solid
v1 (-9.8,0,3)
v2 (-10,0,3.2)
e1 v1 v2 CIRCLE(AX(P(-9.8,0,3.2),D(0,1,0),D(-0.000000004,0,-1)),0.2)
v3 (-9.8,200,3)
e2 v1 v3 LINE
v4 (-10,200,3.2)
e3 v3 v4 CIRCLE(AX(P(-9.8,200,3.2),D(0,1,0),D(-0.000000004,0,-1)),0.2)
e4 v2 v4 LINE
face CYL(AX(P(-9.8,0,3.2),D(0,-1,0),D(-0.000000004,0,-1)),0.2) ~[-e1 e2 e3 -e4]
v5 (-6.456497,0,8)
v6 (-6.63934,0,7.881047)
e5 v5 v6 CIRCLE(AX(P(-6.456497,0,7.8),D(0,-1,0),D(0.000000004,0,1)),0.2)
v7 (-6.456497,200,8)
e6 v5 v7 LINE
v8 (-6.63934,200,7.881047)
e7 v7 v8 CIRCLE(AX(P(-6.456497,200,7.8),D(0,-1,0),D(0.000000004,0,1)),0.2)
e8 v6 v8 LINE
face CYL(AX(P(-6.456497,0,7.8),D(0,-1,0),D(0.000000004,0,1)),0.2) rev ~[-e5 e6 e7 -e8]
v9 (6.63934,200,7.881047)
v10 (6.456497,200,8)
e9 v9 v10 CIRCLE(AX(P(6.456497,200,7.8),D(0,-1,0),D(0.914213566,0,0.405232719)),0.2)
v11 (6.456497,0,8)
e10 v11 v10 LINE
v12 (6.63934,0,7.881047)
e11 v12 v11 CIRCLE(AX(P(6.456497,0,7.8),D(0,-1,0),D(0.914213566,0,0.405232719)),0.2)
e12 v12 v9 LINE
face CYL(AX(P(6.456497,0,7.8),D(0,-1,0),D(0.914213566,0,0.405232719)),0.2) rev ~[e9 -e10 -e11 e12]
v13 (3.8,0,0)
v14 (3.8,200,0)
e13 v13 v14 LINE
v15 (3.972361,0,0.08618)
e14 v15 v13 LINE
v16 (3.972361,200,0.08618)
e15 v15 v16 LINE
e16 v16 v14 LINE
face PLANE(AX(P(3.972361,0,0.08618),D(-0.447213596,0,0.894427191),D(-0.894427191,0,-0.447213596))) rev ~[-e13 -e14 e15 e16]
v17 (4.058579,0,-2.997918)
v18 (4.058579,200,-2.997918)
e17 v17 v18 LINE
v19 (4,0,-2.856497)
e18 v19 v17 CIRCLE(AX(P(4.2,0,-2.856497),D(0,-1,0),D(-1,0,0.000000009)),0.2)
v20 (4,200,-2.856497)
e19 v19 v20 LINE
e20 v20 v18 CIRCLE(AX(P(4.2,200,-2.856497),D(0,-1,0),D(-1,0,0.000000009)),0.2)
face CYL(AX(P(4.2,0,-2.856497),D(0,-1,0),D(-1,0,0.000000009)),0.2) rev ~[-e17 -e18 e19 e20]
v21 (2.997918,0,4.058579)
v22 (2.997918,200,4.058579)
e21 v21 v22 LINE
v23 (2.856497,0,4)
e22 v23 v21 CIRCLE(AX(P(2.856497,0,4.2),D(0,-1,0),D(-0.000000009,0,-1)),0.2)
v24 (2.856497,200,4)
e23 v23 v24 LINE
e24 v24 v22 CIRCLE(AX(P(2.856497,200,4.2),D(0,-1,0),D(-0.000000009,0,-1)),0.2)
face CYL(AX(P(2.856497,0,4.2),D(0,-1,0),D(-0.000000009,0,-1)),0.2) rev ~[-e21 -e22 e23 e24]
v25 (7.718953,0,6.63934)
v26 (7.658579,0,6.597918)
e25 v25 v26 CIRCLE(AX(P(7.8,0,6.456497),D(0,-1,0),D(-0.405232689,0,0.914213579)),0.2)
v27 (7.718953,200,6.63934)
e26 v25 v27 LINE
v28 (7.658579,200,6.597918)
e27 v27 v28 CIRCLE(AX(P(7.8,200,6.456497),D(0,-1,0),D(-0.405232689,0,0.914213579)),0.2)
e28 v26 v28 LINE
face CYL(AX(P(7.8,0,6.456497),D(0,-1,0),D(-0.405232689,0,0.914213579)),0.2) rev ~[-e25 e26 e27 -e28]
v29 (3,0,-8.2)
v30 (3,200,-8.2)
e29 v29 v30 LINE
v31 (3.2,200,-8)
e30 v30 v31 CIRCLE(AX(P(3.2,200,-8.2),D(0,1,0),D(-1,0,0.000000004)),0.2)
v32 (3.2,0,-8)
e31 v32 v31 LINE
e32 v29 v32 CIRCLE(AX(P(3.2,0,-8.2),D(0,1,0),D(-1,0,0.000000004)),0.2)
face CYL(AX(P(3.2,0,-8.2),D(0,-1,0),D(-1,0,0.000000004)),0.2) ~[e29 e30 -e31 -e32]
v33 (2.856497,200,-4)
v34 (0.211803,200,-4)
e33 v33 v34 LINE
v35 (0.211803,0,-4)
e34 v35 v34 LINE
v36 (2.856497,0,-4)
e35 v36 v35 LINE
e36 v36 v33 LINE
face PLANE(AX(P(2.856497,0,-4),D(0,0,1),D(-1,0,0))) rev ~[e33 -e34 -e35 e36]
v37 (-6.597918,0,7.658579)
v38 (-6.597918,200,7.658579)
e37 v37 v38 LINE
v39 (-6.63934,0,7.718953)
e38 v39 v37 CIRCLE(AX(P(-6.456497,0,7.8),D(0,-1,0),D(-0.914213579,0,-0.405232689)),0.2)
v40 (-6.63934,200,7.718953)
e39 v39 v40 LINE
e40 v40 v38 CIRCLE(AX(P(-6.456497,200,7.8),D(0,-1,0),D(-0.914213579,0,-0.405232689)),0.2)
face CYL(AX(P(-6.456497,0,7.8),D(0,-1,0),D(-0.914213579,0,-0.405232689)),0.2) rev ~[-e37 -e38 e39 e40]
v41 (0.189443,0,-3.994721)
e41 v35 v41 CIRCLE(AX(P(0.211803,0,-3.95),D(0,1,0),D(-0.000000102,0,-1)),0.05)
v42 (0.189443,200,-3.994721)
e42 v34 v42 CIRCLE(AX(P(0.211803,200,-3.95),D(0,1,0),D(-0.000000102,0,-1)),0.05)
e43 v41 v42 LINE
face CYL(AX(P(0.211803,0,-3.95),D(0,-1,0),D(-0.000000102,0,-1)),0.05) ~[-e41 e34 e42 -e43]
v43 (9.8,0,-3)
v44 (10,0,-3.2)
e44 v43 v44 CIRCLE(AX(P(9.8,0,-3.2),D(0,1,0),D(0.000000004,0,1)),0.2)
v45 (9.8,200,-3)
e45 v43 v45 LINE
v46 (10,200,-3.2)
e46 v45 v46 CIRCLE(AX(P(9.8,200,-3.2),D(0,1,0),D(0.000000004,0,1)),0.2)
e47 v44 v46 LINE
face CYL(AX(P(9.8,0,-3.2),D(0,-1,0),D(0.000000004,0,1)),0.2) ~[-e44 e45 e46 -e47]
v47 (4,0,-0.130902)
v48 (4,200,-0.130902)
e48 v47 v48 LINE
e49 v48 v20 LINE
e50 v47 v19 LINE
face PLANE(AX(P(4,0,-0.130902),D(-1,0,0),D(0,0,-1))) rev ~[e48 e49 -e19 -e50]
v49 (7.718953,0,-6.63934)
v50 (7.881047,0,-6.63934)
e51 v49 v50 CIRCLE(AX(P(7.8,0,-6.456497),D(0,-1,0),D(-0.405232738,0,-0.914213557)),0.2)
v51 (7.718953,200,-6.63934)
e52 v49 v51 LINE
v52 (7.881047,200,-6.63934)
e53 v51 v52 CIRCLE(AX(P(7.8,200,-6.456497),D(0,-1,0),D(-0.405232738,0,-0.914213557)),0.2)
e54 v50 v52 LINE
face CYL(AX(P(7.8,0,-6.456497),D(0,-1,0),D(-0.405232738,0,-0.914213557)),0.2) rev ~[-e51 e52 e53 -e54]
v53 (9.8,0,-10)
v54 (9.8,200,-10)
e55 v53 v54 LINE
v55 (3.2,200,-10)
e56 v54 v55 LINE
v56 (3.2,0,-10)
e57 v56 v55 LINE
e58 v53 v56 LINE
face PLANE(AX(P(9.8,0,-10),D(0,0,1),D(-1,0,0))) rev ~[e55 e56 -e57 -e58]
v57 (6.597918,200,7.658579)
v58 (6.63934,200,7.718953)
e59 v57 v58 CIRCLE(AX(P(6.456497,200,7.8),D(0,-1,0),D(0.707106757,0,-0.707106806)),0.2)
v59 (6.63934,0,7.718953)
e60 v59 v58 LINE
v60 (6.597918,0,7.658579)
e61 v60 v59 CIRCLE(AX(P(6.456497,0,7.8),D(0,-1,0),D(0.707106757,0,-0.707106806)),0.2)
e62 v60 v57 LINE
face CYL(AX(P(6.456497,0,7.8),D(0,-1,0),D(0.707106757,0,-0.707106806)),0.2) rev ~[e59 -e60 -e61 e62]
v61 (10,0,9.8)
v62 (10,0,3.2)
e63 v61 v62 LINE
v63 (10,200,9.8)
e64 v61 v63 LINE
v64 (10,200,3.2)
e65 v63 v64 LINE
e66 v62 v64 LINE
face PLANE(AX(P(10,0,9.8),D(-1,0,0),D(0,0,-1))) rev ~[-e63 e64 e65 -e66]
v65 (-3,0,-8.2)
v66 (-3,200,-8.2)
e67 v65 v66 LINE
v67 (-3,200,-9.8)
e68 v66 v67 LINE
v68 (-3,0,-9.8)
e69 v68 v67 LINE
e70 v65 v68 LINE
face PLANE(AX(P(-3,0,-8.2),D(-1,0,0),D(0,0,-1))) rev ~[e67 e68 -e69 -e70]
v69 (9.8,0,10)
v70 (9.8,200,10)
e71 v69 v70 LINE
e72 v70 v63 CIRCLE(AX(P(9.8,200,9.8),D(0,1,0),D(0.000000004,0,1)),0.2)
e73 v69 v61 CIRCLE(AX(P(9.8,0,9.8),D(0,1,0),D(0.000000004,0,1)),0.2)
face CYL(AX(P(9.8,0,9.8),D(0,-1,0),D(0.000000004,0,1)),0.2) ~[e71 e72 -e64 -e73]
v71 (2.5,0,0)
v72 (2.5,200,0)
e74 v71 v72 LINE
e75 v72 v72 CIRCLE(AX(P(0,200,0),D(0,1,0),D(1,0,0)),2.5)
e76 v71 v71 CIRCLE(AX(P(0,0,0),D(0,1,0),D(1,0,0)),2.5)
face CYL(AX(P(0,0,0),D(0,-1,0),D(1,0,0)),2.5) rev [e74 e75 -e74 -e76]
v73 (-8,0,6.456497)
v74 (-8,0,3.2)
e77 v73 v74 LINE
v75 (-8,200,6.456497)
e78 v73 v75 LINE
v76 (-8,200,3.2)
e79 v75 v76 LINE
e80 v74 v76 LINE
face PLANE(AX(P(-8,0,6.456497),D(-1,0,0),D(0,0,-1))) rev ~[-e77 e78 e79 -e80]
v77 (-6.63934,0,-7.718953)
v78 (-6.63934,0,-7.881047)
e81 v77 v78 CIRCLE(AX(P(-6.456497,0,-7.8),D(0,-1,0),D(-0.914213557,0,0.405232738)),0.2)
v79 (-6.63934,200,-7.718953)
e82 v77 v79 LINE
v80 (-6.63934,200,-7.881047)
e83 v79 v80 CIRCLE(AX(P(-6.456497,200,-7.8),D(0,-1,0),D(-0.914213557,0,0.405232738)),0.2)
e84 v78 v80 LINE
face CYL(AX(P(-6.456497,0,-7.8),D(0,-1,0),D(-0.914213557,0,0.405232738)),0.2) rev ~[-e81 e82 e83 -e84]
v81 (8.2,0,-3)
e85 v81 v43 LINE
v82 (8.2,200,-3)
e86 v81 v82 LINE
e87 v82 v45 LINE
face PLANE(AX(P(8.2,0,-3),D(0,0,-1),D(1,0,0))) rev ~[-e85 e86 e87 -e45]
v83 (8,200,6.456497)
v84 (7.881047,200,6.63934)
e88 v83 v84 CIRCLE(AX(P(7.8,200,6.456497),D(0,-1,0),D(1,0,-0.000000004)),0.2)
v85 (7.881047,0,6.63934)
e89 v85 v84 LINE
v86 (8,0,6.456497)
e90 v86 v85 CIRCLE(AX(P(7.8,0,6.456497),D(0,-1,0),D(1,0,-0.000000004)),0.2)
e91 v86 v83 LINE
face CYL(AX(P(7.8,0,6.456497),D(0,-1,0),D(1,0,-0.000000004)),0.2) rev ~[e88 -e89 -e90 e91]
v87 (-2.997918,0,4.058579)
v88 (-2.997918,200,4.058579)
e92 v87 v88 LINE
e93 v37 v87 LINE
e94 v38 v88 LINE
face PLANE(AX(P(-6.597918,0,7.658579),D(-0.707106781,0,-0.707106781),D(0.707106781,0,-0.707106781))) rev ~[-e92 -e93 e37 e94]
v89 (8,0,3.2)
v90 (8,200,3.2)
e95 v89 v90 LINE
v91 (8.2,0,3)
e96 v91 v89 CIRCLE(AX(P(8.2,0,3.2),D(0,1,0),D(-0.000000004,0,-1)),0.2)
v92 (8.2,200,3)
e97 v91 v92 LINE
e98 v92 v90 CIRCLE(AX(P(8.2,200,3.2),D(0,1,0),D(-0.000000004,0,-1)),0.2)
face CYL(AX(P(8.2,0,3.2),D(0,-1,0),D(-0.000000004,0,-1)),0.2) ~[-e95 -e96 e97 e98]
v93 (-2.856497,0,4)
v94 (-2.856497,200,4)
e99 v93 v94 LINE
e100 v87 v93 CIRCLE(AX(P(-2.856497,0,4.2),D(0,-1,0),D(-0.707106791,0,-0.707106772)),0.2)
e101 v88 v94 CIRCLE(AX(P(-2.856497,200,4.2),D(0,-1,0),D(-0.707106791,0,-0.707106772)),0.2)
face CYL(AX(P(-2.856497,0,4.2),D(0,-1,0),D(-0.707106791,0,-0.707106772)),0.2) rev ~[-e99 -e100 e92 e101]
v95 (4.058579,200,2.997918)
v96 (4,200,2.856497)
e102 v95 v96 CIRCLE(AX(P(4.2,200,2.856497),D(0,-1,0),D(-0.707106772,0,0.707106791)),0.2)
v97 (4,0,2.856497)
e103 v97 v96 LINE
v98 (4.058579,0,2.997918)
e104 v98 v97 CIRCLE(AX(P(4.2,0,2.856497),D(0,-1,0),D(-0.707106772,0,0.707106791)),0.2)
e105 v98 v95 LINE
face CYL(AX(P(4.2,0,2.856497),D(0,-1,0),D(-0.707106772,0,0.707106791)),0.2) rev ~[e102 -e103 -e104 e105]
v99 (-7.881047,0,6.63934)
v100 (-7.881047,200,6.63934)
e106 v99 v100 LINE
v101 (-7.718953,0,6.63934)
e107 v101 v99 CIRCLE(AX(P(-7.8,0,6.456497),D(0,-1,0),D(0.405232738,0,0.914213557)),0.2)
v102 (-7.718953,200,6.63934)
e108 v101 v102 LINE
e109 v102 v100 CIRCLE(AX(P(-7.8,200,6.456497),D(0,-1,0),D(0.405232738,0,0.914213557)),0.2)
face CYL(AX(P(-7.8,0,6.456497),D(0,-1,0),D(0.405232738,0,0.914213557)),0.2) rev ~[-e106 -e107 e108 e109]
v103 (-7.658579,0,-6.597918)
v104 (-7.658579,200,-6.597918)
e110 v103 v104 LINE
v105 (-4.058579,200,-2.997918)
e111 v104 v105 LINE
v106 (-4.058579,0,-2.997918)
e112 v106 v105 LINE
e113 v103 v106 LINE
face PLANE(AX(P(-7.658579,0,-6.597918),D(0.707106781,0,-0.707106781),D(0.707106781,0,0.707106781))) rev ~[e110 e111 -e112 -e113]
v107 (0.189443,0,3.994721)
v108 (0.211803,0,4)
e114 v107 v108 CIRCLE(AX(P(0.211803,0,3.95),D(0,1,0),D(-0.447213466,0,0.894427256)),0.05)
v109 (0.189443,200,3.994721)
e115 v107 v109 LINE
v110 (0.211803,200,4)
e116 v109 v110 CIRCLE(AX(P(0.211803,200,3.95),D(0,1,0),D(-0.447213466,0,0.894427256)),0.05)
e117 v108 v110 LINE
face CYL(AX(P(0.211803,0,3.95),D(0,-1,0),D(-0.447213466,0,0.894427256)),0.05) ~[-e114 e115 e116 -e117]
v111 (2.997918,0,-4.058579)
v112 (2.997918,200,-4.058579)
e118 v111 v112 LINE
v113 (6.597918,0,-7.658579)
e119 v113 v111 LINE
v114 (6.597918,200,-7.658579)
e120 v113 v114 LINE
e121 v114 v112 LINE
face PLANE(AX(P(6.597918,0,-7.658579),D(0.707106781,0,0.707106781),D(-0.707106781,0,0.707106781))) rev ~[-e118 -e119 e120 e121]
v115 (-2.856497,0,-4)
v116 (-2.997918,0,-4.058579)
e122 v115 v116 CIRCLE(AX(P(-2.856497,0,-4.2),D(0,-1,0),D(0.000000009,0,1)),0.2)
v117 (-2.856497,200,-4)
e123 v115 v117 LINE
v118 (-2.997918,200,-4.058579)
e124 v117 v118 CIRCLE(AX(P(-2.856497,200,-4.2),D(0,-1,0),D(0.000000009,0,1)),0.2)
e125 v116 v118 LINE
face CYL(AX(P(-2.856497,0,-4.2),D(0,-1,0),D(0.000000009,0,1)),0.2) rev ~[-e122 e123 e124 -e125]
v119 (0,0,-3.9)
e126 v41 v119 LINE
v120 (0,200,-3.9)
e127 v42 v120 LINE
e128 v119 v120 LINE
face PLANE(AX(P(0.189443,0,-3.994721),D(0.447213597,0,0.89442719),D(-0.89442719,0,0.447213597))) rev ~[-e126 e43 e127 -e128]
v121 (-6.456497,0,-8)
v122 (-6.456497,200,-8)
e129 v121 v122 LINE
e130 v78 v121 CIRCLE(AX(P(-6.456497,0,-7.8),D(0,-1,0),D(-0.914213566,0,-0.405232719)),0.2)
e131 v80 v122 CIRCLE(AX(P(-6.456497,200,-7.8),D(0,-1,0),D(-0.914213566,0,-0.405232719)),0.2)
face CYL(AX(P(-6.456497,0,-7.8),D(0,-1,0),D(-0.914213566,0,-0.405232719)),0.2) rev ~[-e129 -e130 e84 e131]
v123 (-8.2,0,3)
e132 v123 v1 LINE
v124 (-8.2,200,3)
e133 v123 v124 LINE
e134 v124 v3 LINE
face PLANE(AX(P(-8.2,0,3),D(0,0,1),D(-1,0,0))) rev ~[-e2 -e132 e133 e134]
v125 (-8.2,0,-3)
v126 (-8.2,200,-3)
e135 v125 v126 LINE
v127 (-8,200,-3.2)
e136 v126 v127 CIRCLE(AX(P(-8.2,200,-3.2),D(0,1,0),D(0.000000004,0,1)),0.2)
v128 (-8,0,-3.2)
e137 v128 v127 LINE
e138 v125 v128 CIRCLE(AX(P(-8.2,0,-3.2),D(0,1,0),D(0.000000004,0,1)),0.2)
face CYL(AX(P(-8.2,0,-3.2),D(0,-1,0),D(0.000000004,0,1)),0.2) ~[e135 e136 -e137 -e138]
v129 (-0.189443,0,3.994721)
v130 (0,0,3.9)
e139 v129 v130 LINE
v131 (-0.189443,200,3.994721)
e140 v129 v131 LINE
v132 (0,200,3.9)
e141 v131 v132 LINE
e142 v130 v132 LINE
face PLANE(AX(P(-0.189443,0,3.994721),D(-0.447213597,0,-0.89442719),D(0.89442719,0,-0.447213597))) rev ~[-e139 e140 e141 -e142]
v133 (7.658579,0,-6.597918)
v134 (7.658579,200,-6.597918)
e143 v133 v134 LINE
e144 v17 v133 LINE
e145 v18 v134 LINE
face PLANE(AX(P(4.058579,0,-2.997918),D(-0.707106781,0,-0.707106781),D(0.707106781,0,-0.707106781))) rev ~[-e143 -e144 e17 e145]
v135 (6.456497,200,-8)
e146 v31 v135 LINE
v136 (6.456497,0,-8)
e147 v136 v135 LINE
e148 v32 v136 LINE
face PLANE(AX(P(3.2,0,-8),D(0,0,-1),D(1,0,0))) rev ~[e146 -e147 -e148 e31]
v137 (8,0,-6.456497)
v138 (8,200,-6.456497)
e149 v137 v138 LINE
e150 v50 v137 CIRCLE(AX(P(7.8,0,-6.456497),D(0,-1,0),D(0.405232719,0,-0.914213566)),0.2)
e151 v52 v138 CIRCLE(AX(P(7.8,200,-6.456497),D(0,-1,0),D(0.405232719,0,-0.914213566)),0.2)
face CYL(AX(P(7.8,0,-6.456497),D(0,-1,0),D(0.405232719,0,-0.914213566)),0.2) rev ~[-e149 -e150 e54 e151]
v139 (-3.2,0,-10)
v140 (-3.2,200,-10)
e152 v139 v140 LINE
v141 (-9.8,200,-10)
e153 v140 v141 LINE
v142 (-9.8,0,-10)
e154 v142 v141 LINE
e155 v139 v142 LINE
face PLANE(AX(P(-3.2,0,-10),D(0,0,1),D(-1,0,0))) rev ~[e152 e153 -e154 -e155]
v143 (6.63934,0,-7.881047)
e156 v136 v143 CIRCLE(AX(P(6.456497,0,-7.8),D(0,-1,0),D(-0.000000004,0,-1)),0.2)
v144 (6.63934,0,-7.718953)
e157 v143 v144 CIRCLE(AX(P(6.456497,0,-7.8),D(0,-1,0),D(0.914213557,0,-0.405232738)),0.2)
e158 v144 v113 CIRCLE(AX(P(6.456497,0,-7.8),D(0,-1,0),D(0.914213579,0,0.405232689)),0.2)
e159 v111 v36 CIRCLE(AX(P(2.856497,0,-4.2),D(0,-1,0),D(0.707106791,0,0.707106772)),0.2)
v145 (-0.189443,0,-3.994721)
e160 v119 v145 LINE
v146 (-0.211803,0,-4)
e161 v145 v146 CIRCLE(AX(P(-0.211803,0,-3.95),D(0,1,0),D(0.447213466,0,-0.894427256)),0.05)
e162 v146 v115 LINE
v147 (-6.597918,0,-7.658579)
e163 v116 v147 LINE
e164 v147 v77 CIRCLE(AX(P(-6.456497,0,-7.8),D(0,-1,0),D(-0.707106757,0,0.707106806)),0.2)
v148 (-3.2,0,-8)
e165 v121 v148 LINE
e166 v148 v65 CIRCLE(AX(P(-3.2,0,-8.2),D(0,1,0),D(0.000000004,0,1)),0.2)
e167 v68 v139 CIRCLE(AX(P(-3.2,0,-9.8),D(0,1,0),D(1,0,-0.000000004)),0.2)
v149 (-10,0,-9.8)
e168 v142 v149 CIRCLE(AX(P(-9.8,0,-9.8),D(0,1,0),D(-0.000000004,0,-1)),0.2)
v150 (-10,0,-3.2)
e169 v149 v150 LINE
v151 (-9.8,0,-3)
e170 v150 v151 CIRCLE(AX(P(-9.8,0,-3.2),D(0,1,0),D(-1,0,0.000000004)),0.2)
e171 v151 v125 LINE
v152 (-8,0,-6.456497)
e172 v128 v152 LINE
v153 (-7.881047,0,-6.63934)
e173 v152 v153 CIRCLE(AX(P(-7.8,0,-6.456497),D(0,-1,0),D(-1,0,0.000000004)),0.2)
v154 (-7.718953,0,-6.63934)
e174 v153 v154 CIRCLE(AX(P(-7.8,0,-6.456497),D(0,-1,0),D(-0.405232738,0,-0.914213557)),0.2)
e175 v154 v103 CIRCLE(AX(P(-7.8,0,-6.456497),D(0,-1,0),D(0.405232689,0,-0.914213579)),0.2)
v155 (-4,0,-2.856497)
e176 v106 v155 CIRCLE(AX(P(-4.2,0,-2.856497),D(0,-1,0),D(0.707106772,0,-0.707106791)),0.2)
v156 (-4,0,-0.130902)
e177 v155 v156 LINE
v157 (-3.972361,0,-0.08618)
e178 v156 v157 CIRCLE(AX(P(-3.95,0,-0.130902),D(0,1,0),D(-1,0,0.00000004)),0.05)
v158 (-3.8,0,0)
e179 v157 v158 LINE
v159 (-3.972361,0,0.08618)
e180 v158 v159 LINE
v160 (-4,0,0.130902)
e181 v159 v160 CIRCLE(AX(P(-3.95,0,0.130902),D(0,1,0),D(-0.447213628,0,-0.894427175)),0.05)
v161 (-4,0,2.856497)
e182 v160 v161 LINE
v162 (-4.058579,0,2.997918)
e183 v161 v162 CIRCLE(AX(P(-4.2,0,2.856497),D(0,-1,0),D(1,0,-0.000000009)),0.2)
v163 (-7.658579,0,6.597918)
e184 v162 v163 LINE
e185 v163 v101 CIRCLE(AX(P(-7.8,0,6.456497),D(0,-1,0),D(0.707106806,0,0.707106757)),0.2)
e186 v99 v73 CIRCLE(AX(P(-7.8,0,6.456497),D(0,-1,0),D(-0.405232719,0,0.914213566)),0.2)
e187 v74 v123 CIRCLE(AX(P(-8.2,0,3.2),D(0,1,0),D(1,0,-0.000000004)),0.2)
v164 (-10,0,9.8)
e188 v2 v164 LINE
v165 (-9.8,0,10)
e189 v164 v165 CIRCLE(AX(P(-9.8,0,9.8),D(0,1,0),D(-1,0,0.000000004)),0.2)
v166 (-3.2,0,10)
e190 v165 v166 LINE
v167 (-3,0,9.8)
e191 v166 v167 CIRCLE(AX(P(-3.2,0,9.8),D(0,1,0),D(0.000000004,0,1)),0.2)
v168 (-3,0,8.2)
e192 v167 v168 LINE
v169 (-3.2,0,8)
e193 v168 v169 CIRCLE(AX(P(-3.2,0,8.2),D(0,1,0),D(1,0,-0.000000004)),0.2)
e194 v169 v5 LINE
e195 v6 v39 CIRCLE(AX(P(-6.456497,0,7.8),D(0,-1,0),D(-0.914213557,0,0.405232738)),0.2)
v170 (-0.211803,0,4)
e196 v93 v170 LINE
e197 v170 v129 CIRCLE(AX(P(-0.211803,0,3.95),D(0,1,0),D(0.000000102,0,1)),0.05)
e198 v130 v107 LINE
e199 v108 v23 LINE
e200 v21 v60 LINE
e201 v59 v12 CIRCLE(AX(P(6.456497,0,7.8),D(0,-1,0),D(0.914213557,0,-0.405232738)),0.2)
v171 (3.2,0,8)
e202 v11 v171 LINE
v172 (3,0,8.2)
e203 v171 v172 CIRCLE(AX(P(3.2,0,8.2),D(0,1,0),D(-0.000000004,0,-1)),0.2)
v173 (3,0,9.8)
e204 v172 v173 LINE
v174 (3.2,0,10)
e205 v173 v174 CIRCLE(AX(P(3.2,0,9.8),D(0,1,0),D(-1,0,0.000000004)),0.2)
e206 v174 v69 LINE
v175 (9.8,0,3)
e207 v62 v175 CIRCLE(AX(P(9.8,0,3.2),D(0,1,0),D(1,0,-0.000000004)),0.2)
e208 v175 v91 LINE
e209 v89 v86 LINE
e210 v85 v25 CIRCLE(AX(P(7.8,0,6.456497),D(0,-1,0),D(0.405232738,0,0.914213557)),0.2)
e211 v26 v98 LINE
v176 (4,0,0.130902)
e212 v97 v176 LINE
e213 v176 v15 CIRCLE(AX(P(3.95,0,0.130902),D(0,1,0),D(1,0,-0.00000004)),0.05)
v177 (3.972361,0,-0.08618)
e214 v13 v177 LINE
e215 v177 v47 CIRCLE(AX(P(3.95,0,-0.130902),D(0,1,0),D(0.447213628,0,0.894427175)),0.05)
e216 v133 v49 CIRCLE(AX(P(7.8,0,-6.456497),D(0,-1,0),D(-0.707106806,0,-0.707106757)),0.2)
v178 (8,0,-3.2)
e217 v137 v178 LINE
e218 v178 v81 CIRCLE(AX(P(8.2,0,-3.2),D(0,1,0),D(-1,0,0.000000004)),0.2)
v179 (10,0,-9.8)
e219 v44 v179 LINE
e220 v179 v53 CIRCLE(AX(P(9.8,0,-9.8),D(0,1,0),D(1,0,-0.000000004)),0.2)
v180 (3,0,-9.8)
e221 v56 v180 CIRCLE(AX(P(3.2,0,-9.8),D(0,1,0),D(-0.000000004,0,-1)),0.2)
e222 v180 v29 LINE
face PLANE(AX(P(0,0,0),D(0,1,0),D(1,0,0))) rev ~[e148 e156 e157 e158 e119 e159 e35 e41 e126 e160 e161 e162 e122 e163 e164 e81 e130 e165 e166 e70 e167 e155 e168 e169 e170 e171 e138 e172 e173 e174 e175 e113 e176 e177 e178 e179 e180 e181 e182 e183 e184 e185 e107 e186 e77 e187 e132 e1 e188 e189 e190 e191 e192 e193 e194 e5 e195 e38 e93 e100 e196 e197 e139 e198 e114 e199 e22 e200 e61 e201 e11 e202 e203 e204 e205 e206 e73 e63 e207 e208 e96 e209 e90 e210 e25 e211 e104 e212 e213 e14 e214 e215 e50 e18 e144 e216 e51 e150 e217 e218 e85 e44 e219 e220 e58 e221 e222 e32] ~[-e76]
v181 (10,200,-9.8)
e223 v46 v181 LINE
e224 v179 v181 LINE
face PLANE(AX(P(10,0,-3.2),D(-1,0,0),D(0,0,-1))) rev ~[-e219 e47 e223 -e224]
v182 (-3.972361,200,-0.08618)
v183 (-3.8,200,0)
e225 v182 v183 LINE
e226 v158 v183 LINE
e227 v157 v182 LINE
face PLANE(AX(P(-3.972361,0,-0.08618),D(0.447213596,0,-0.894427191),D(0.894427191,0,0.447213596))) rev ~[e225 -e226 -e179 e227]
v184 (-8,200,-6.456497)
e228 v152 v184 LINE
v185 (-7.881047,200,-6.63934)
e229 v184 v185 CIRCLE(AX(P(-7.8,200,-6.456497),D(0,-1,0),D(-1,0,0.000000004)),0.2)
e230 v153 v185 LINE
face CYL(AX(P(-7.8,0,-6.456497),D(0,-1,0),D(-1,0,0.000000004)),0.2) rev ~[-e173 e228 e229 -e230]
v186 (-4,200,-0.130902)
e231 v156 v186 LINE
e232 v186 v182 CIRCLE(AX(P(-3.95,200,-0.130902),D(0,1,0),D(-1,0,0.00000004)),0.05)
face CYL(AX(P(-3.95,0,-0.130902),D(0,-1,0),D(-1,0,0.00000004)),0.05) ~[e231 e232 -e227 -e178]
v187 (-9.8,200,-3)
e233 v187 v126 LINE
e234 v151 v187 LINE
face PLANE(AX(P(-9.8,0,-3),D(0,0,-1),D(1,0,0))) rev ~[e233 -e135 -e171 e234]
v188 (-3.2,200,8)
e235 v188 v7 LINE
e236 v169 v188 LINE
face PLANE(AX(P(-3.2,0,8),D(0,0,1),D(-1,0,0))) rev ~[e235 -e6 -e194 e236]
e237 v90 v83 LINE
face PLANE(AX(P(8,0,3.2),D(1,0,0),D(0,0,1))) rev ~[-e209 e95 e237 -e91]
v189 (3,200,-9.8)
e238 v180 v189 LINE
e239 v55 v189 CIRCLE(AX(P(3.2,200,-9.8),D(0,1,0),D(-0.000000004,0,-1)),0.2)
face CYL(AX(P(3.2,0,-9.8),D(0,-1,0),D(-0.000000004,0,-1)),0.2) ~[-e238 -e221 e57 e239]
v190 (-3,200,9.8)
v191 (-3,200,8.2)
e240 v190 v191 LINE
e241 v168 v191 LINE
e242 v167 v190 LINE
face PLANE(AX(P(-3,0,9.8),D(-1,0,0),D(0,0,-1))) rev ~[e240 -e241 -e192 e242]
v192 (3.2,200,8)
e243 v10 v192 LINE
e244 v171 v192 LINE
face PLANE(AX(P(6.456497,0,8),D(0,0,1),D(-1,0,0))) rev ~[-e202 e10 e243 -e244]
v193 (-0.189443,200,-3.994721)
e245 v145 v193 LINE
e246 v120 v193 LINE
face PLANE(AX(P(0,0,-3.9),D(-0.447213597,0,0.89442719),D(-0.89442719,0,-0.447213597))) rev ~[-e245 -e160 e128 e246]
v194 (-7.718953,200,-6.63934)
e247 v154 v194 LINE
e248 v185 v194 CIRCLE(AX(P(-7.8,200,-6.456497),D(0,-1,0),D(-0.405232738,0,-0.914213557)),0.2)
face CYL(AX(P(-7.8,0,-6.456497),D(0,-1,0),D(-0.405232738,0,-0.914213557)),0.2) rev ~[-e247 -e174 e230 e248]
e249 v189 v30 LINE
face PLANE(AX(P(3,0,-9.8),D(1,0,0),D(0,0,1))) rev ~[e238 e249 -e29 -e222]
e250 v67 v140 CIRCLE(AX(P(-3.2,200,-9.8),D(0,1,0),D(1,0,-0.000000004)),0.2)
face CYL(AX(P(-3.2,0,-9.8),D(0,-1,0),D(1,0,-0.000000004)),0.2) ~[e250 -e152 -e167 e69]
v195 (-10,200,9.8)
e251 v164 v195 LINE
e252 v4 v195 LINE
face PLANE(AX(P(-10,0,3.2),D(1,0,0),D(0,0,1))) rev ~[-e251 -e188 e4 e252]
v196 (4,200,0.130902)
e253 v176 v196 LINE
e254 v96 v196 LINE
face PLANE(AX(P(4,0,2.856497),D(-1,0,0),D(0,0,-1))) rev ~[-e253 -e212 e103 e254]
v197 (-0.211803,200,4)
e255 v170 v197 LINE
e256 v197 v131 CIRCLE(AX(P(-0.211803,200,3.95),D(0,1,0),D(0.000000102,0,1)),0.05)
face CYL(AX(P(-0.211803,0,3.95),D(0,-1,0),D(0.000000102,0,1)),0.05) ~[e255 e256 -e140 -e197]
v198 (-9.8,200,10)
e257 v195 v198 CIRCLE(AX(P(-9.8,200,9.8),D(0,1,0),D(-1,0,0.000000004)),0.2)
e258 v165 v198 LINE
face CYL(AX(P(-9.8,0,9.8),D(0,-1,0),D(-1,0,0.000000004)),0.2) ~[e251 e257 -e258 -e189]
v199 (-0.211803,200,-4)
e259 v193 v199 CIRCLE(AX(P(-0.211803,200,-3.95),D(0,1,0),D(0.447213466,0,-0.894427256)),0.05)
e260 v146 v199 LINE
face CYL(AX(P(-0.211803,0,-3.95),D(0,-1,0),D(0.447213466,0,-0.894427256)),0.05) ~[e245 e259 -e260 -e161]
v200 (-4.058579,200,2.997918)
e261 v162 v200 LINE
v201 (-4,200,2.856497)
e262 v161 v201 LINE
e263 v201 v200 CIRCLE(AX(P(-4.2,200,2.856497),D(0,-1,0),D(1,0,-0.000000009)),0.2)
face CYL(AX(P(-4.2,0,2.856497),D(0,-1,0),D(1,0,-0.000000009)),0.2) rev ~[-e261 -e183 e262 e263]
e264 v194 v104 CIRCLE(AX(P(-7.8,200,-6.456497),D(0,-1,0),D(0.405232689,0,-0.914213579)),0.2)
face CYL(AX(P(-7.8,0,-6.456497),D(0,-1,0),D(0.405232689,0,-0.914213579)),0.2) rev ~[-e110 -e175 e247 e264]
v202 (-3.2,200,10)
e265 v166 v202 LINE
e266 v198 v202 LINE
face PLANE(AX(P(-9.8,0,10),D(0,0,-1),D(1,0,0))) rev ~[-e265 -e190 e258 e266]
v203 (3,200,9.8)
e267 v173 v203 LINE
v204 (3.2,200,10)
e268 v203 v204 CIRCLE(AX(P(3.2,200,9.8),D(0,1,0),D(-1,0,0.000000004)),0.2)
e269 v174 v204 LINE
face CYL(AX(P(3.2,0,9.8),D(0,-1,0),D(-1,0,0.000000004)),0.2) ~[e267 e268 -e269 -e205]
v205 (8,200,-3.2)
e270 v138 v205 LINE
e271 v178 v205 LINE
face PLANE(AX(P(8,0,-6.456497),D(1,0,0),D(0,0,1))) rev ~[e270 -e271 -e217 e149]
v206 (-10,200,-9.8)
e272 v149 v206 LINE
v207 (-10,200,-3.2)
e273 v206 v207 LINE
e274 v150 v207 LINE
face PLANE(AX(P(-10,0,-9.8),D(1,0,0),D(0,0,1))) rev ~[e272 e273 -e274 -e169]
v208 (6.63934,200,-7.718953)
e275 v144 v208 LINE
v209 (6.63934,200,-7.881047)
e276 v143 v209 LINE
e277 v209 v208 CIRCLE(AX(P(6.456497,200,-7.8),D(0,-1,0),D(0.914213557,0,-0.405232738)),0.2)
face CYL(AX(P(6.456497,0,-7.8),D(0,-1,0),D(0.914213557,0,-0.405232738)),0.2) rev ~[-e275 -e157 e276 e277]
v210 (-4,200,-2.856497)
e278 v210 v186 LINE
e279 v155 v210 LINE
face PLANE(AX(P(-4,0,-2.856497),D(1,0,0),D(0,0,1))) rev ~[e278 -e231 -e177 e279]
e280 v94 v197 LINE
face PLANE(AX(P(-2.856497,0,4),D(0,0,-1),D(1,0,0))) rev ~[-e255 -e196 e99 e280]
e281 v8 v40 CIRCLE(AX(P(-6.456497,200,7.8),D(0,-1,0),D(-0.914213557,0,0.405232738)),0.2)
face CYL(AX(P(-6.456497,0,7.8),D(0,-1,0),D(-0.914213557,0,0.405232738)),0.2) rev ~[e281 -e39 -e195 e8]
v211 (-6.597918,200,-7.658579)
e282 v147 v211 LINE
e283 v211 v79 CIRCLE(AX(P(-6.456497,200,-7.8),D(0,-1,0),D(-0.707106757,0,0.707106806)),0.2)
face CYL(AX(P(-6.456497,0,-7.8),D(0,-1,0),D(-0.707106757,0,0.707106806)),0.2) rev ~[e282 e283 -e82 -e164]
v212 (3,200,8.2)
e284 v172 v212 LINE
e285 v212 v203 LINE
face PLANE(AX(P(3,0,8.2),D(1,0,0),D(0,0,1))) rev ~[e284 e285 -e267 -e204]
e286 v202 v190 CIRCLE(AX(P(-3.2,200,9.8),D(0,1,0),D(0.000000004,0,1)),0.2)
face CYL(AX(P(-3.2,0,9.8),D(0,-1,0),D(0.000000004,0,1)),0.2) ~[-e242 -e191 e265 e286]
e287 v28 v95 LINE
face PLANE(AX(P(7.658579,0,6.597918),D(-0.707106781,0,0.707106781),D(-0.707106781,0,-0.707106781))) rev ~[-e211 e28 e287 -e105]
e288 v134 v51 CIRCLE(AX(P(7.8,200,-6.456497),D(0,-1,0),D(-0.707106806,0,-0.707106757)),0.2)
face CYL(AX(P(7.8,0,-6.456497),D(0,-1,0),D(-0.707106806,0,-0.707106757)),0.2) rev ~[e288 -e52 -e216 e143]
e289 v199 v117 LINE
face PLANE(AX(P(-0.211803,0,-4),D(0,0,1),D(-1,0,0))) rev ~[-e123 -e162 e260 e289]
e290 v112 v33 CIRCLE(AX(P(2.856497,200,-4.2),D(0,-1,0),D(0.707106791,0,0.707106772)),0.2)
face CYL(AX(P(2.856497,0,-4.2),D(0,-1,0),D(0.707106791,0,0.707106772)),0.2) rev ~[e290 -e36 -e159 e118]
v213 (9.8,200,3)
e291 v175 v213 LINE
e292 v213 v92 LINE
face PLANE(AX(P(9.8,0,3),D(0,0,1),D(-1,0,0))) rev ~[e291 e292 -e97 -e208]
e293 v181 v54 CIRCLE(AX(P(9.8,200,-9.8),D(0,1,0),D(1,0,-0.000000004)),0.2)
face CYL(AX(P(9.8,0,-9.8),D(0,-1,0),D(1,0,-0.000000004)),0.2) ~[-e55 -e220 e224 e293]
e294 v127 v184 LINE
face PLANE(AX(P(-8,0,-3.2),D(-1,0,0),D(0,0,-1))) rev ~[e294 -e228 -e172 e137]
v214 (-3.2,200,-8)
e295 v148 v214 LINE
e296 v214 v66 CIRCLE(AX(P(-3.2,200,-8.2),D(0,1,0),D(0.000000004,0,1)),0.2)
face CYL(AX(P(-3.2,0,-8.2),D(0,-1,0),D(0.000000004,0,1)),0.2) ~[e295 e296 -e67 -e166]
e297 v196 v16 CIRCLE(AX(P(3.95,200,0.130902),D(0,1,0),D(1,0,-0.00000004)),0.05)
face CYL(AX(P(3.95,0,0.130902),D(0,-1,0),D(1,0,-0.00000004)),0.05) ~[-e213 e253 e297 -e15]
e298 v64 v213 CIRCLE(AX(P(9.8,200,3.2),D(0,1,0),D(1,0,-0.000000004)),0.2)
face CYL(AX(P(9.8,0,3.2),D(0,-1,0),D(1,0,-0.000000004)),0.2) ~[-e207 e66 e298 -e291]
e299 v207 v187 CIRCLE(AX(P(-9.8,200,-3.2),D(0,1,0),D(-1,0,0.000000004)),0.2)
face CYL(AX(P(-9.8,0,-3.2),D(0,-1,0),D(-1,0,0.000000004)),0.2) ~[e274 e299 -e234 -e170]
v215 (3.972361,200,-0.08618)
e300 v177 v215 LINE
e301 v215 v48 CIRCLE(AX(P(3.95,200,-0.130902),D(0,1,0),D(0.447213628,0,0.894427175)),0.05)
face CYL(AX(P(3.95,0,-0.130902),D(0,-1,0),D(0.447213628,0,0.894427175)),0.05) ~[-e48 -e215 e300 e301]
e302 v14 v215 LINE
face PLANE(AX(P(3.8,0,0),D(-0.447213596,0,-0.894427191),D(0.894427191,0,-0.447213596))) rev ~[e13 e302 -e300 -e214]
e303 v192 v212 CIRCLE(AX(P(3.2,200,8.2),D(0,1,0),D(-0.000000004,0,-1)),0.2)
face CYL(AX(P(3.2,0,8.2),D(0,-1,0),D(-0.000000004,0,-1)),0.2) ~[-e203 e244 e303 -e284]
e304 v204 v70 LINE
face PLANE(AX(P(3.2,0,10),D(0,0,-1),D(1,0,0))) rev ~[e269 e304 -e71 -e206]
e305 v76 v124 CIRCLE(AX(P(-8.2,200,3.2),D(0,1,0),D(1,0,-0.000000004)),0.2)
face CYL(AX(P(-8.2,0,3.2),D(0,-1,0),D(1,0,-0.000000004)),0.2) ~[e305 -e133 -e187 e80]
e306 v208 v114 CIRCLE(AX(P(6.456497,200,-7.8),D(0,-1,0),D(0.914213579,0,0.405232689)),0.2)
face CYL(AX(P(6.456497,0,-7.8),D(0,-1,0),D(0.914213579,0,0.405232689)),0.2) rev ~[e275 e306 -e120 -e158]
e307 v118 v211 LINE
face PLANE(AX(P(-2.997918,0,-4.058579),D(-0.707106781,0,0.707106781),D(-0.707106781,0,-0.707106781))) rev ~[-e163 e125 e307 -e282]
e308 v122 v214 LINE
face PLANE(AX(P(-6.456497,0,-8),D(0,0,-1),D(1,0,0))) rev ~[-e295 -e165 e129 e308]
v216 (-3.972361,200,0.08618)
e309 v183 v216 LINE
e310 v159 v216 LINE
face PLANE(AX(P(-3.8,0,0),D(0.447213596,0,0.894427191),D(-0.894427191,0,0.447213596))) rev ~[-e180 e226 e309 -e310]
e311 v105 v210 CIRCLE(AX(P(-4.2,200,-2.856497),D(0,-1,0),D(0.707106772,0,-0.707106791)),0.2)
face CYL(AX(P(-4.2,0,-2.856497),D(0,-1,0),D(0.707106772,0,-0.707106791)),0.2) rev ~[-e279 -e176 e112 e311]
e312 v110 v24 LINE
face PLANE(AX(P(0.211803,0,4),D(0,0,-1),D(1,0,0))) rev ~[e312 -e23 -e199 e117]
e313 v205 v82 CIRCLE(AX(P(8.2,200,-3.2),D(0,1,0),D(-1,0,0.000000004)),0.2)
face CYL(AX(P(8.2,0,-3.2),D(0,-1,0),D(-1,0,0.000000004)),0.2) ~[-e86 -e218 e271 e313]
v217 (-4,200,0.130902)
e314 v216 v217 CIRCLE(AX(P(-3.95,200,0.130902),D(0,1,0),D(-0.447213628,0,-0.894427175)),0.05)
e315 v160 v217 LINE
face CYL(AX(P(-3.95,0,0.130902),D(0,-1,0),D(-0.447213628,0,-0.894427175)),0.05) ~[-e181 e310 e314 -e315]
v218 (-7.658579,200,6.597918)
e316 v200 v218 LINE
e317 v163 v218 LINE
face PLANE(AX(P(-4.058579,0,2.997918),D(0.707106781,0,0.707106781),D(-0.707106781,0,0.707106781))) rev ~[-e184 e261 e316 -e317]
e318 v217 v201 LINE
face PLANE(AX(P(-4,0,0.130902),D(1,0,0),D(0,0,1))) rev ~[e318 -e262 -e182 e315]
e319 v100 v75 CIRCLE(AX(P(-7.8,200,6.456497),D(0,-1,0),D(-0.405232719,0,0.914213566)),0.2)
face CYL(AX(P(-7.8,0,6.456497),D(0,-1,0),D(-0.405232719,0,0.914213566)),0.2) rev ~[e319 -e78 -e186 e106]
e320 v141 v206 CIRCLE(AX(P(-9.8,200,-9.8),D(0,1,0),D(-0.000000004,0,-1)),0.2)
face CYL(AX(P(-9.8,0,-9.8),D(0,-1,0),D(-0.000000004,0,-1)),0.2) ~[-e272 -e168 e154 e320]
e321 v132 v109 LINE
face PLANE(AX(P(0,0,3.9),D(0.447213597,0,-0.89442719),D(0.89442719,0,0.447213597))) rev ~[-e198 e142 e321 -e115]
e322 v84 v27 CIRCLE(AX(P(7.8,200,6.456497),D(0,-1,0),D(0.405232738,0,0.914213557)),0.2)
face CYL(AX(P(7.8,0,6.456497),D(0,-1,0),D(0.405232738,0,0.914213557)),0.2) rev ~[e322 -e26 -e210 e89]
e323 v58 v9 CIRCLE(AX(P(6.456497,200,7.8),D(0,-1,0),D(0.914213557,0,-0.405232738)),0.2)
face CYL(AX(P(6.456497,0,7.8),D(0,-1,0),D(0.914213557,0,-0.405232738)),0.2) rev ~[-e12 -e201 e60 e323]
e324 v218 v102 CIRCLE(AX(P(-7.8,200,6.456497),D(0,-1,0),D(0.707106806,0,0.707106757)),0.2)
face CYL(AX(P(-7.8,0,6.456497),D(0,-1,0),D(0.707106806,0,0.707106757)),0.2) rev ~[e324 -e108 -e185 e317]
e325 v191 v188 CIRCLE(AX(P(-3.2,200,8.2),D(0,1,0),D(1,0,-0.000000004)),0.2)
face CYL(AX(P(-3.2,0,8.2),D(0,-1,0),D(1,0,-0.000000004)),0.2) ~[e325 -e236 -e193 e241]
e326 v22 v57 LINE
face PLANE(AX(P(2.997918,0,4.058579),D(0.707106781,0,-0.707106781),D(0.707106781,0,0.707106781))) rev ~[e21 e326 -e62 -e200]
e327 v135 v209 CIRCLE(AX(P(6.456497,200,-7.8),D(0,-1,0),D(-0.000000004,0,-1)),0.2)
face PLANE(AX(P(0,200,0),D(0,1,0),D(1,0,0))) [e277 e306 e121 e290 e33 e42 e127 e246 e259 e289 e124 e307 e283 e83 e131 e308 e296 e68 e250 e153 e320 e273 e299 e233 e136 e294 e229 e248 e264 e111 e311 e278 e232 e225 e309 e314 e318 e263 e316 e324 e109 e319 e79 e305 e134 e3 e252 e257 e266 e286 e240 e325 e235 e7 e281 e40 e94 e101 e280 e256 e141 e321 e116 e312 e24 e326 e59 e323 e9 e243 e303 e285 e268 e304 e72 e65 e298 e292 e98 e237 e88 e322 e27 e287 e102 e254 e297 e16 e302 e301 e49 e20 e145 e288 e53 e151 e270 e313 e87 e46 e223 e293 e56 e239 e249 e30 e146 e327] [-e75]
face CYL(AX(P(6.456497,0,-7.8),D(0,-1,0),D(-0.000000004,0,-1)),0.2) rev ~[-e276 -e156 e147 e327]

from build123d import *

# Parameters (mm, degrees)
SKETCH1_R           = 2.5
BOSS_EXTRUDE1_DEPTH = 200


with BuildPart() as part:
    # Sketch1 → Boss-Extrude1 (new body)
    with BuildSketch(Plane(origin=(0, 0, 0), x_dir=(1, 0, 0), z_dir=(0, 1, 0))):
        with BuildLine():
            Line((-2.997918472, 4.058578644), (-6.597918472, 7.658578644))
            ThreePointArc((-6.597918472, 7.658578644), (-6.621415508, 7.686854412), (-6.639339828, 7.718953455))
            ThreePointArc((-6.639339828, 7.718953455), (-6.656497116, 7.8), (-6.639339828, 7.881046545))
            ThreePointArc((-6.639339828, 7.881046545), (-6.565562901, 7.967644429), (-6.456497116, 8))
            Line((-6.456497116, 8), (-3.2, 8))
            ThreePointArc((-3.2, 8), (-3.058578644, 8.058578644), (-3, 8.2))
            Line((-3, 8.2), (-3, 9.8))
            ThreePointArc((-3, 9.8), (-3.058578644, 9.941421356), (-3.2, 10))
            Line((-3.2, 10), (-9.8, 10))
            ThreePointArc((-9.8, 10), (-9.941421356, 9.941421356), (-10, 9.8))
            Line((-10, 9.8), (-10, 3.2))
            ThreePointArc((-10, 3.2), (-9.941421356, 3.058578644), (-9.8, 3))
            Line((-9.8, 3), (-8.2, 3))
            ThreePointArc((-8.2, 3), (-8.058578644, 3.058578644), (-8, 3.2))
            Line((-8, 3.2), (-8, 6.456497116))
            ThreePointArc((-8, 6.456497116), (-7.967644429, 6.565562901), (-7.881046545, 6.639339828))
            ThreePointArc((-7.881046545, 6.639339828), (-7.8, 6.656497116), (-7.718953455, 6.639339828))
            ThreePointArc((-7.718953455, 6.639339828), (-7.686854412, 6.621415508), (-7.658578644, 6.597918472))
            Line((-7.658578644, 6.597918472), (-4.058578644, 2.997918472))
            ThreePointArc((-4.058578644, 2.997918472), (-4.015224093, 2.933033802), (-4, 2.856497116))
            Line((-4, 2.856497116), (-4, 0.130901699))
            ThreePointArc((-4, 0.130901699), (-3.99253254, 0.104615144), (-3.97236068, 0.08618034))
            Line((-3.97236068, 0.08618034), (-3.8, 0))
            Line((-3.8, 0), (-3.97236068, -0.08618034))
            ThreePointArc((-3.97236068, -0.08618034), (-3.99253254, -0.104615144), (-4, -0.130901699))
            Line((-4, -0.130901699), (-4, -2.856497116))
            ThreePointArc((-4, -2.856497116), (-4.015224093, -2.933033802), (-4.058578644, -2.997918472))
            Line((-4.058578644, -2.997918472), (-7.658578644, -6.597918472))
            ThreePointArc((-7.658578644, -6.597918472), (-7.686854412, -6.621415508), (-7.718953455, -6.639339828))
            ThreePointArc((-7.718953455, -6.639339828), (-7.8, -6.656497116), (-7.881046545, -6.639339828))
            ThreePointArc((-7.881046545, -6.639339828), (-7.967644429, -6.565562901), (-8, -6.456497116))
            Line((-8, -6.456497116), (-8, -3.2))
            ThreePointArc((-8, -3.2), (-8.058578644, -3.058578644), (-8.2, -3))
            Line((-8.2, -3), (-9.8, -3))
            ThreePointArc((-9.8, -3), (-9.941421356, -3.058578644), (-10, -3.2))
            Line((-10, -3.2), (-10, -9.8))
            ThreePointArc((-10, -9.8), (-9.941421356, -9.941421356), (-9.8, -10))
            Line((-9.8, -10), (-3.2, -10))
            ThreePointArc((-3.2, -10), (-3.058578644, -9.941421356), (-3, -9.8))
            Line((-3, -9.8), (-3, -8.2))
            ThreePointArc((-3, -8.2), (-3.058578644, -8.058578644), (-3.2, -8))
            Line((-3.2, -8), (-6.456497116, -8))
            ThreePointArc((-6.456497116, -8), (-6.565562901, -7.967644429), (-6.639339828, -7.881046545))
            ThreePointArc((-6.639339828, -7.881046545), (-6.656497116, -7.8), (-6.639339828, -7.718953455))
            ThreePointArc((-6.639339828, -7.718953455), (-6.621415508, -7.686854412), (-6.597918472, -7.658578644))
            Line((-6.597918472, -7.658578644), (-2.997918472, -4.058578644))
            ThreePointArc((-2.997918472, -4.058578644), (-2.933033802, -4.015224093), (-2.856497116, -4))
            Line((-2.856497116, -4), (-0.211803399, -4))
            ThreePointArc((-0.211803399, -4), (-0.200315753, -3.998662449), (-0.189442719, -3.99472136))
            Line((-0.189442719, -3.99472136), (0, -3.9))
            Line((0, -3.9), (0.189442719, -3.99472136))
            ThreePointArc((0.189442719, -3.99472136), (0.200315753, -3.998662449), (0.211803399, -4))
            Line((0.211803399, -4), (2.856497116, -4))
            ThreePointArc((2.856497116, -4), (2.933033802, -4.015224093), (2.997918472, -4.058578644))
            Line((2.997918472, -4.058578644), (6.597918472, -7.658578644))
            ThreePointArc((6.597918472, -7.658578644), (6.621415508, -7.686854412), (6.639339828, -7.718953455))
            ThreePointArc((6.639339828, -7.718953455), (6.656497116, -7.8), (6.639339828, -7.881046545))
            ThreePointArc((6.639339828, -7.881046545), (6.565562901, -7.967644429), (6.456497116, -8))
            Line((6.456497116, -8), (3.2, -8))
            ThreePointArc((3.2, -8), (3.058578644, -8.058578644), (3, -8.2))
            Line((3, -8.2), (3, -9.8))
            ThreePointArc((3, -9.8), (3.058578644, -9.941421356), (3.2, -10))
            Line((3.2, -10), (9.8, -10))
            ThreePointArc((9.8, -10), (9.941421356, -9.941421356), (10, -9.8))
            Line((10, -9.8), (10, -3.2))
            ThreePointArc((10, -3.2), (9.941421356, -3.058578644), (9.8, -3))
            Line((9.8, -3), (8.2, -3))
            ThreePointArc((8.2, -3), (8.058578644, -3.058578644), (8, -3.2))
            Line((8, -3.2), (8, -6.456497116))
            ThreePointArc((8, -6.456497116), (7.967644429, -6.565562901), (7.881046545, -6.639339828))
            ThreePointArc((7.881046545, -6.639339828), (7.8, -6.656497116), (7.718953455, -6.639339828))
            ThreePointArc((7.718953455, -6.639339828), (7.686854412, -6.621415508), (7.658578644, -6.597918472))
            Line((7.658578644, -6.597918472), (4.058578644, -2.997918472))
            ThreePointArc((4.058578644, -2.997918472), (4.015224093, -2.933033802), (4, -2.856497116))
            Line((4, -2.856497116), (4, -0.130901699))
            ThreePointArc((4, -0.130901699), (3.99253254, -0.104615144), (3.97236068, -0.08618034))
            Line((3.97236068, -0.08618034), (3.8, 0))
            Line((3.8, 0), (3.97236068, 0.08618034))
            ThreePointArc((3.97236068, 0.08618034), (3.99253254, 0.104615144), (4, 0.130901699))
            Line((4, 0.130901699), (4, 2.856497116))
            ThreePointArc((4, 2.856497116), (4.015224093, 2.933033802), (4.058578644, 2.997918472))
            Line((4.058578644, 2.997918472), (7.658578644, 6.597918472))
            ThreePointArc((7.658578644, 6.597918472), (7.686854412, 6.621415508), (7.718953455, 6.639339828))
            ThreePointArc((7.718953455, 6.639339828), (7.8, 6.656497116), (7.881046545, 6.639339828))
            ThreePointArc((7.881046545, 6.639339828), (7.967644429, 6.565562901), (8, 6.456497116))
            Line((8, 6.456497116), (8, 3.2))
            ThreePointArc((8, 3.2), (8.058578644, 3.058578644), (8.2, 3))
            Line((8.2, 3), (9.8, 3))
            ThreePointArc((9.8, 3), (9.941421356, 3.058578644), (10, 3.2))
            Line((10, 3.2), (10, 9.8))
            ThreePointArc((10, 9.8), (9.941421356, 9.941421356), (9.8, 10))
            Line((9.8, 10), (3.2, 10))
            ThreePointArc((3.2, 10), (3.058578644, 9.941421356), (3, 9.8))
            Line((3, 9.8), (3, 8.2))
            ThreePointArc((3, 8.2), (3.058578644, 8.058578644), (3.2, 8))
            Line((3.2, 8), (6.456497116, 8))
            ThreePointArc((6.456497116, 8), (6.565562901, 7.967644429), (6.639339828, 7.881046545))
            ThreePointArc((6.639339828, 7.881046545), (6.656497116, 7.8), (6.639339828, 7.718953455))
            ThreePointArc((6.639339828, 7.718953455), (6.621415508, 7.686854412), (6.597918472, 7.658578644))
            Line((6.597918472, 7.658578644), (2.997918472, 4.058578644))
            ThreePointArc((2.997918472, 4.058578644), (2.933033802, 4.015224093), (2.856497116, 4))
            Line((2.856497116, 4), (0.211803399, 4))
            ThreePointArc((0.211803399, 4), (0.200315753, 3.998662449), (0.189442719, 3.99472136))
            Line((0.189442719, 3.99472136), (0, 3.9))
            Line((0, 3.9), (-0.189442719, 3.99472136))
            ThreePointArc((-0.189442719, 3.99472136), (-0.200315753, 3.998662449), (-0.211803399, 4))
            Line((-0.211803399, 4), (-2.856497116, 4))
            ThreePointArc((-2.856497116, 4), (-2.933033802, 4.015224093), (-2.997918472, 4.058578644))
        make_face()
        Circle(SKETCH1_R, mode=Mode.SUBTRACT)
    extrude(amount=BOSS_EXTRUDE1_DEPTH)


solid = part.part
